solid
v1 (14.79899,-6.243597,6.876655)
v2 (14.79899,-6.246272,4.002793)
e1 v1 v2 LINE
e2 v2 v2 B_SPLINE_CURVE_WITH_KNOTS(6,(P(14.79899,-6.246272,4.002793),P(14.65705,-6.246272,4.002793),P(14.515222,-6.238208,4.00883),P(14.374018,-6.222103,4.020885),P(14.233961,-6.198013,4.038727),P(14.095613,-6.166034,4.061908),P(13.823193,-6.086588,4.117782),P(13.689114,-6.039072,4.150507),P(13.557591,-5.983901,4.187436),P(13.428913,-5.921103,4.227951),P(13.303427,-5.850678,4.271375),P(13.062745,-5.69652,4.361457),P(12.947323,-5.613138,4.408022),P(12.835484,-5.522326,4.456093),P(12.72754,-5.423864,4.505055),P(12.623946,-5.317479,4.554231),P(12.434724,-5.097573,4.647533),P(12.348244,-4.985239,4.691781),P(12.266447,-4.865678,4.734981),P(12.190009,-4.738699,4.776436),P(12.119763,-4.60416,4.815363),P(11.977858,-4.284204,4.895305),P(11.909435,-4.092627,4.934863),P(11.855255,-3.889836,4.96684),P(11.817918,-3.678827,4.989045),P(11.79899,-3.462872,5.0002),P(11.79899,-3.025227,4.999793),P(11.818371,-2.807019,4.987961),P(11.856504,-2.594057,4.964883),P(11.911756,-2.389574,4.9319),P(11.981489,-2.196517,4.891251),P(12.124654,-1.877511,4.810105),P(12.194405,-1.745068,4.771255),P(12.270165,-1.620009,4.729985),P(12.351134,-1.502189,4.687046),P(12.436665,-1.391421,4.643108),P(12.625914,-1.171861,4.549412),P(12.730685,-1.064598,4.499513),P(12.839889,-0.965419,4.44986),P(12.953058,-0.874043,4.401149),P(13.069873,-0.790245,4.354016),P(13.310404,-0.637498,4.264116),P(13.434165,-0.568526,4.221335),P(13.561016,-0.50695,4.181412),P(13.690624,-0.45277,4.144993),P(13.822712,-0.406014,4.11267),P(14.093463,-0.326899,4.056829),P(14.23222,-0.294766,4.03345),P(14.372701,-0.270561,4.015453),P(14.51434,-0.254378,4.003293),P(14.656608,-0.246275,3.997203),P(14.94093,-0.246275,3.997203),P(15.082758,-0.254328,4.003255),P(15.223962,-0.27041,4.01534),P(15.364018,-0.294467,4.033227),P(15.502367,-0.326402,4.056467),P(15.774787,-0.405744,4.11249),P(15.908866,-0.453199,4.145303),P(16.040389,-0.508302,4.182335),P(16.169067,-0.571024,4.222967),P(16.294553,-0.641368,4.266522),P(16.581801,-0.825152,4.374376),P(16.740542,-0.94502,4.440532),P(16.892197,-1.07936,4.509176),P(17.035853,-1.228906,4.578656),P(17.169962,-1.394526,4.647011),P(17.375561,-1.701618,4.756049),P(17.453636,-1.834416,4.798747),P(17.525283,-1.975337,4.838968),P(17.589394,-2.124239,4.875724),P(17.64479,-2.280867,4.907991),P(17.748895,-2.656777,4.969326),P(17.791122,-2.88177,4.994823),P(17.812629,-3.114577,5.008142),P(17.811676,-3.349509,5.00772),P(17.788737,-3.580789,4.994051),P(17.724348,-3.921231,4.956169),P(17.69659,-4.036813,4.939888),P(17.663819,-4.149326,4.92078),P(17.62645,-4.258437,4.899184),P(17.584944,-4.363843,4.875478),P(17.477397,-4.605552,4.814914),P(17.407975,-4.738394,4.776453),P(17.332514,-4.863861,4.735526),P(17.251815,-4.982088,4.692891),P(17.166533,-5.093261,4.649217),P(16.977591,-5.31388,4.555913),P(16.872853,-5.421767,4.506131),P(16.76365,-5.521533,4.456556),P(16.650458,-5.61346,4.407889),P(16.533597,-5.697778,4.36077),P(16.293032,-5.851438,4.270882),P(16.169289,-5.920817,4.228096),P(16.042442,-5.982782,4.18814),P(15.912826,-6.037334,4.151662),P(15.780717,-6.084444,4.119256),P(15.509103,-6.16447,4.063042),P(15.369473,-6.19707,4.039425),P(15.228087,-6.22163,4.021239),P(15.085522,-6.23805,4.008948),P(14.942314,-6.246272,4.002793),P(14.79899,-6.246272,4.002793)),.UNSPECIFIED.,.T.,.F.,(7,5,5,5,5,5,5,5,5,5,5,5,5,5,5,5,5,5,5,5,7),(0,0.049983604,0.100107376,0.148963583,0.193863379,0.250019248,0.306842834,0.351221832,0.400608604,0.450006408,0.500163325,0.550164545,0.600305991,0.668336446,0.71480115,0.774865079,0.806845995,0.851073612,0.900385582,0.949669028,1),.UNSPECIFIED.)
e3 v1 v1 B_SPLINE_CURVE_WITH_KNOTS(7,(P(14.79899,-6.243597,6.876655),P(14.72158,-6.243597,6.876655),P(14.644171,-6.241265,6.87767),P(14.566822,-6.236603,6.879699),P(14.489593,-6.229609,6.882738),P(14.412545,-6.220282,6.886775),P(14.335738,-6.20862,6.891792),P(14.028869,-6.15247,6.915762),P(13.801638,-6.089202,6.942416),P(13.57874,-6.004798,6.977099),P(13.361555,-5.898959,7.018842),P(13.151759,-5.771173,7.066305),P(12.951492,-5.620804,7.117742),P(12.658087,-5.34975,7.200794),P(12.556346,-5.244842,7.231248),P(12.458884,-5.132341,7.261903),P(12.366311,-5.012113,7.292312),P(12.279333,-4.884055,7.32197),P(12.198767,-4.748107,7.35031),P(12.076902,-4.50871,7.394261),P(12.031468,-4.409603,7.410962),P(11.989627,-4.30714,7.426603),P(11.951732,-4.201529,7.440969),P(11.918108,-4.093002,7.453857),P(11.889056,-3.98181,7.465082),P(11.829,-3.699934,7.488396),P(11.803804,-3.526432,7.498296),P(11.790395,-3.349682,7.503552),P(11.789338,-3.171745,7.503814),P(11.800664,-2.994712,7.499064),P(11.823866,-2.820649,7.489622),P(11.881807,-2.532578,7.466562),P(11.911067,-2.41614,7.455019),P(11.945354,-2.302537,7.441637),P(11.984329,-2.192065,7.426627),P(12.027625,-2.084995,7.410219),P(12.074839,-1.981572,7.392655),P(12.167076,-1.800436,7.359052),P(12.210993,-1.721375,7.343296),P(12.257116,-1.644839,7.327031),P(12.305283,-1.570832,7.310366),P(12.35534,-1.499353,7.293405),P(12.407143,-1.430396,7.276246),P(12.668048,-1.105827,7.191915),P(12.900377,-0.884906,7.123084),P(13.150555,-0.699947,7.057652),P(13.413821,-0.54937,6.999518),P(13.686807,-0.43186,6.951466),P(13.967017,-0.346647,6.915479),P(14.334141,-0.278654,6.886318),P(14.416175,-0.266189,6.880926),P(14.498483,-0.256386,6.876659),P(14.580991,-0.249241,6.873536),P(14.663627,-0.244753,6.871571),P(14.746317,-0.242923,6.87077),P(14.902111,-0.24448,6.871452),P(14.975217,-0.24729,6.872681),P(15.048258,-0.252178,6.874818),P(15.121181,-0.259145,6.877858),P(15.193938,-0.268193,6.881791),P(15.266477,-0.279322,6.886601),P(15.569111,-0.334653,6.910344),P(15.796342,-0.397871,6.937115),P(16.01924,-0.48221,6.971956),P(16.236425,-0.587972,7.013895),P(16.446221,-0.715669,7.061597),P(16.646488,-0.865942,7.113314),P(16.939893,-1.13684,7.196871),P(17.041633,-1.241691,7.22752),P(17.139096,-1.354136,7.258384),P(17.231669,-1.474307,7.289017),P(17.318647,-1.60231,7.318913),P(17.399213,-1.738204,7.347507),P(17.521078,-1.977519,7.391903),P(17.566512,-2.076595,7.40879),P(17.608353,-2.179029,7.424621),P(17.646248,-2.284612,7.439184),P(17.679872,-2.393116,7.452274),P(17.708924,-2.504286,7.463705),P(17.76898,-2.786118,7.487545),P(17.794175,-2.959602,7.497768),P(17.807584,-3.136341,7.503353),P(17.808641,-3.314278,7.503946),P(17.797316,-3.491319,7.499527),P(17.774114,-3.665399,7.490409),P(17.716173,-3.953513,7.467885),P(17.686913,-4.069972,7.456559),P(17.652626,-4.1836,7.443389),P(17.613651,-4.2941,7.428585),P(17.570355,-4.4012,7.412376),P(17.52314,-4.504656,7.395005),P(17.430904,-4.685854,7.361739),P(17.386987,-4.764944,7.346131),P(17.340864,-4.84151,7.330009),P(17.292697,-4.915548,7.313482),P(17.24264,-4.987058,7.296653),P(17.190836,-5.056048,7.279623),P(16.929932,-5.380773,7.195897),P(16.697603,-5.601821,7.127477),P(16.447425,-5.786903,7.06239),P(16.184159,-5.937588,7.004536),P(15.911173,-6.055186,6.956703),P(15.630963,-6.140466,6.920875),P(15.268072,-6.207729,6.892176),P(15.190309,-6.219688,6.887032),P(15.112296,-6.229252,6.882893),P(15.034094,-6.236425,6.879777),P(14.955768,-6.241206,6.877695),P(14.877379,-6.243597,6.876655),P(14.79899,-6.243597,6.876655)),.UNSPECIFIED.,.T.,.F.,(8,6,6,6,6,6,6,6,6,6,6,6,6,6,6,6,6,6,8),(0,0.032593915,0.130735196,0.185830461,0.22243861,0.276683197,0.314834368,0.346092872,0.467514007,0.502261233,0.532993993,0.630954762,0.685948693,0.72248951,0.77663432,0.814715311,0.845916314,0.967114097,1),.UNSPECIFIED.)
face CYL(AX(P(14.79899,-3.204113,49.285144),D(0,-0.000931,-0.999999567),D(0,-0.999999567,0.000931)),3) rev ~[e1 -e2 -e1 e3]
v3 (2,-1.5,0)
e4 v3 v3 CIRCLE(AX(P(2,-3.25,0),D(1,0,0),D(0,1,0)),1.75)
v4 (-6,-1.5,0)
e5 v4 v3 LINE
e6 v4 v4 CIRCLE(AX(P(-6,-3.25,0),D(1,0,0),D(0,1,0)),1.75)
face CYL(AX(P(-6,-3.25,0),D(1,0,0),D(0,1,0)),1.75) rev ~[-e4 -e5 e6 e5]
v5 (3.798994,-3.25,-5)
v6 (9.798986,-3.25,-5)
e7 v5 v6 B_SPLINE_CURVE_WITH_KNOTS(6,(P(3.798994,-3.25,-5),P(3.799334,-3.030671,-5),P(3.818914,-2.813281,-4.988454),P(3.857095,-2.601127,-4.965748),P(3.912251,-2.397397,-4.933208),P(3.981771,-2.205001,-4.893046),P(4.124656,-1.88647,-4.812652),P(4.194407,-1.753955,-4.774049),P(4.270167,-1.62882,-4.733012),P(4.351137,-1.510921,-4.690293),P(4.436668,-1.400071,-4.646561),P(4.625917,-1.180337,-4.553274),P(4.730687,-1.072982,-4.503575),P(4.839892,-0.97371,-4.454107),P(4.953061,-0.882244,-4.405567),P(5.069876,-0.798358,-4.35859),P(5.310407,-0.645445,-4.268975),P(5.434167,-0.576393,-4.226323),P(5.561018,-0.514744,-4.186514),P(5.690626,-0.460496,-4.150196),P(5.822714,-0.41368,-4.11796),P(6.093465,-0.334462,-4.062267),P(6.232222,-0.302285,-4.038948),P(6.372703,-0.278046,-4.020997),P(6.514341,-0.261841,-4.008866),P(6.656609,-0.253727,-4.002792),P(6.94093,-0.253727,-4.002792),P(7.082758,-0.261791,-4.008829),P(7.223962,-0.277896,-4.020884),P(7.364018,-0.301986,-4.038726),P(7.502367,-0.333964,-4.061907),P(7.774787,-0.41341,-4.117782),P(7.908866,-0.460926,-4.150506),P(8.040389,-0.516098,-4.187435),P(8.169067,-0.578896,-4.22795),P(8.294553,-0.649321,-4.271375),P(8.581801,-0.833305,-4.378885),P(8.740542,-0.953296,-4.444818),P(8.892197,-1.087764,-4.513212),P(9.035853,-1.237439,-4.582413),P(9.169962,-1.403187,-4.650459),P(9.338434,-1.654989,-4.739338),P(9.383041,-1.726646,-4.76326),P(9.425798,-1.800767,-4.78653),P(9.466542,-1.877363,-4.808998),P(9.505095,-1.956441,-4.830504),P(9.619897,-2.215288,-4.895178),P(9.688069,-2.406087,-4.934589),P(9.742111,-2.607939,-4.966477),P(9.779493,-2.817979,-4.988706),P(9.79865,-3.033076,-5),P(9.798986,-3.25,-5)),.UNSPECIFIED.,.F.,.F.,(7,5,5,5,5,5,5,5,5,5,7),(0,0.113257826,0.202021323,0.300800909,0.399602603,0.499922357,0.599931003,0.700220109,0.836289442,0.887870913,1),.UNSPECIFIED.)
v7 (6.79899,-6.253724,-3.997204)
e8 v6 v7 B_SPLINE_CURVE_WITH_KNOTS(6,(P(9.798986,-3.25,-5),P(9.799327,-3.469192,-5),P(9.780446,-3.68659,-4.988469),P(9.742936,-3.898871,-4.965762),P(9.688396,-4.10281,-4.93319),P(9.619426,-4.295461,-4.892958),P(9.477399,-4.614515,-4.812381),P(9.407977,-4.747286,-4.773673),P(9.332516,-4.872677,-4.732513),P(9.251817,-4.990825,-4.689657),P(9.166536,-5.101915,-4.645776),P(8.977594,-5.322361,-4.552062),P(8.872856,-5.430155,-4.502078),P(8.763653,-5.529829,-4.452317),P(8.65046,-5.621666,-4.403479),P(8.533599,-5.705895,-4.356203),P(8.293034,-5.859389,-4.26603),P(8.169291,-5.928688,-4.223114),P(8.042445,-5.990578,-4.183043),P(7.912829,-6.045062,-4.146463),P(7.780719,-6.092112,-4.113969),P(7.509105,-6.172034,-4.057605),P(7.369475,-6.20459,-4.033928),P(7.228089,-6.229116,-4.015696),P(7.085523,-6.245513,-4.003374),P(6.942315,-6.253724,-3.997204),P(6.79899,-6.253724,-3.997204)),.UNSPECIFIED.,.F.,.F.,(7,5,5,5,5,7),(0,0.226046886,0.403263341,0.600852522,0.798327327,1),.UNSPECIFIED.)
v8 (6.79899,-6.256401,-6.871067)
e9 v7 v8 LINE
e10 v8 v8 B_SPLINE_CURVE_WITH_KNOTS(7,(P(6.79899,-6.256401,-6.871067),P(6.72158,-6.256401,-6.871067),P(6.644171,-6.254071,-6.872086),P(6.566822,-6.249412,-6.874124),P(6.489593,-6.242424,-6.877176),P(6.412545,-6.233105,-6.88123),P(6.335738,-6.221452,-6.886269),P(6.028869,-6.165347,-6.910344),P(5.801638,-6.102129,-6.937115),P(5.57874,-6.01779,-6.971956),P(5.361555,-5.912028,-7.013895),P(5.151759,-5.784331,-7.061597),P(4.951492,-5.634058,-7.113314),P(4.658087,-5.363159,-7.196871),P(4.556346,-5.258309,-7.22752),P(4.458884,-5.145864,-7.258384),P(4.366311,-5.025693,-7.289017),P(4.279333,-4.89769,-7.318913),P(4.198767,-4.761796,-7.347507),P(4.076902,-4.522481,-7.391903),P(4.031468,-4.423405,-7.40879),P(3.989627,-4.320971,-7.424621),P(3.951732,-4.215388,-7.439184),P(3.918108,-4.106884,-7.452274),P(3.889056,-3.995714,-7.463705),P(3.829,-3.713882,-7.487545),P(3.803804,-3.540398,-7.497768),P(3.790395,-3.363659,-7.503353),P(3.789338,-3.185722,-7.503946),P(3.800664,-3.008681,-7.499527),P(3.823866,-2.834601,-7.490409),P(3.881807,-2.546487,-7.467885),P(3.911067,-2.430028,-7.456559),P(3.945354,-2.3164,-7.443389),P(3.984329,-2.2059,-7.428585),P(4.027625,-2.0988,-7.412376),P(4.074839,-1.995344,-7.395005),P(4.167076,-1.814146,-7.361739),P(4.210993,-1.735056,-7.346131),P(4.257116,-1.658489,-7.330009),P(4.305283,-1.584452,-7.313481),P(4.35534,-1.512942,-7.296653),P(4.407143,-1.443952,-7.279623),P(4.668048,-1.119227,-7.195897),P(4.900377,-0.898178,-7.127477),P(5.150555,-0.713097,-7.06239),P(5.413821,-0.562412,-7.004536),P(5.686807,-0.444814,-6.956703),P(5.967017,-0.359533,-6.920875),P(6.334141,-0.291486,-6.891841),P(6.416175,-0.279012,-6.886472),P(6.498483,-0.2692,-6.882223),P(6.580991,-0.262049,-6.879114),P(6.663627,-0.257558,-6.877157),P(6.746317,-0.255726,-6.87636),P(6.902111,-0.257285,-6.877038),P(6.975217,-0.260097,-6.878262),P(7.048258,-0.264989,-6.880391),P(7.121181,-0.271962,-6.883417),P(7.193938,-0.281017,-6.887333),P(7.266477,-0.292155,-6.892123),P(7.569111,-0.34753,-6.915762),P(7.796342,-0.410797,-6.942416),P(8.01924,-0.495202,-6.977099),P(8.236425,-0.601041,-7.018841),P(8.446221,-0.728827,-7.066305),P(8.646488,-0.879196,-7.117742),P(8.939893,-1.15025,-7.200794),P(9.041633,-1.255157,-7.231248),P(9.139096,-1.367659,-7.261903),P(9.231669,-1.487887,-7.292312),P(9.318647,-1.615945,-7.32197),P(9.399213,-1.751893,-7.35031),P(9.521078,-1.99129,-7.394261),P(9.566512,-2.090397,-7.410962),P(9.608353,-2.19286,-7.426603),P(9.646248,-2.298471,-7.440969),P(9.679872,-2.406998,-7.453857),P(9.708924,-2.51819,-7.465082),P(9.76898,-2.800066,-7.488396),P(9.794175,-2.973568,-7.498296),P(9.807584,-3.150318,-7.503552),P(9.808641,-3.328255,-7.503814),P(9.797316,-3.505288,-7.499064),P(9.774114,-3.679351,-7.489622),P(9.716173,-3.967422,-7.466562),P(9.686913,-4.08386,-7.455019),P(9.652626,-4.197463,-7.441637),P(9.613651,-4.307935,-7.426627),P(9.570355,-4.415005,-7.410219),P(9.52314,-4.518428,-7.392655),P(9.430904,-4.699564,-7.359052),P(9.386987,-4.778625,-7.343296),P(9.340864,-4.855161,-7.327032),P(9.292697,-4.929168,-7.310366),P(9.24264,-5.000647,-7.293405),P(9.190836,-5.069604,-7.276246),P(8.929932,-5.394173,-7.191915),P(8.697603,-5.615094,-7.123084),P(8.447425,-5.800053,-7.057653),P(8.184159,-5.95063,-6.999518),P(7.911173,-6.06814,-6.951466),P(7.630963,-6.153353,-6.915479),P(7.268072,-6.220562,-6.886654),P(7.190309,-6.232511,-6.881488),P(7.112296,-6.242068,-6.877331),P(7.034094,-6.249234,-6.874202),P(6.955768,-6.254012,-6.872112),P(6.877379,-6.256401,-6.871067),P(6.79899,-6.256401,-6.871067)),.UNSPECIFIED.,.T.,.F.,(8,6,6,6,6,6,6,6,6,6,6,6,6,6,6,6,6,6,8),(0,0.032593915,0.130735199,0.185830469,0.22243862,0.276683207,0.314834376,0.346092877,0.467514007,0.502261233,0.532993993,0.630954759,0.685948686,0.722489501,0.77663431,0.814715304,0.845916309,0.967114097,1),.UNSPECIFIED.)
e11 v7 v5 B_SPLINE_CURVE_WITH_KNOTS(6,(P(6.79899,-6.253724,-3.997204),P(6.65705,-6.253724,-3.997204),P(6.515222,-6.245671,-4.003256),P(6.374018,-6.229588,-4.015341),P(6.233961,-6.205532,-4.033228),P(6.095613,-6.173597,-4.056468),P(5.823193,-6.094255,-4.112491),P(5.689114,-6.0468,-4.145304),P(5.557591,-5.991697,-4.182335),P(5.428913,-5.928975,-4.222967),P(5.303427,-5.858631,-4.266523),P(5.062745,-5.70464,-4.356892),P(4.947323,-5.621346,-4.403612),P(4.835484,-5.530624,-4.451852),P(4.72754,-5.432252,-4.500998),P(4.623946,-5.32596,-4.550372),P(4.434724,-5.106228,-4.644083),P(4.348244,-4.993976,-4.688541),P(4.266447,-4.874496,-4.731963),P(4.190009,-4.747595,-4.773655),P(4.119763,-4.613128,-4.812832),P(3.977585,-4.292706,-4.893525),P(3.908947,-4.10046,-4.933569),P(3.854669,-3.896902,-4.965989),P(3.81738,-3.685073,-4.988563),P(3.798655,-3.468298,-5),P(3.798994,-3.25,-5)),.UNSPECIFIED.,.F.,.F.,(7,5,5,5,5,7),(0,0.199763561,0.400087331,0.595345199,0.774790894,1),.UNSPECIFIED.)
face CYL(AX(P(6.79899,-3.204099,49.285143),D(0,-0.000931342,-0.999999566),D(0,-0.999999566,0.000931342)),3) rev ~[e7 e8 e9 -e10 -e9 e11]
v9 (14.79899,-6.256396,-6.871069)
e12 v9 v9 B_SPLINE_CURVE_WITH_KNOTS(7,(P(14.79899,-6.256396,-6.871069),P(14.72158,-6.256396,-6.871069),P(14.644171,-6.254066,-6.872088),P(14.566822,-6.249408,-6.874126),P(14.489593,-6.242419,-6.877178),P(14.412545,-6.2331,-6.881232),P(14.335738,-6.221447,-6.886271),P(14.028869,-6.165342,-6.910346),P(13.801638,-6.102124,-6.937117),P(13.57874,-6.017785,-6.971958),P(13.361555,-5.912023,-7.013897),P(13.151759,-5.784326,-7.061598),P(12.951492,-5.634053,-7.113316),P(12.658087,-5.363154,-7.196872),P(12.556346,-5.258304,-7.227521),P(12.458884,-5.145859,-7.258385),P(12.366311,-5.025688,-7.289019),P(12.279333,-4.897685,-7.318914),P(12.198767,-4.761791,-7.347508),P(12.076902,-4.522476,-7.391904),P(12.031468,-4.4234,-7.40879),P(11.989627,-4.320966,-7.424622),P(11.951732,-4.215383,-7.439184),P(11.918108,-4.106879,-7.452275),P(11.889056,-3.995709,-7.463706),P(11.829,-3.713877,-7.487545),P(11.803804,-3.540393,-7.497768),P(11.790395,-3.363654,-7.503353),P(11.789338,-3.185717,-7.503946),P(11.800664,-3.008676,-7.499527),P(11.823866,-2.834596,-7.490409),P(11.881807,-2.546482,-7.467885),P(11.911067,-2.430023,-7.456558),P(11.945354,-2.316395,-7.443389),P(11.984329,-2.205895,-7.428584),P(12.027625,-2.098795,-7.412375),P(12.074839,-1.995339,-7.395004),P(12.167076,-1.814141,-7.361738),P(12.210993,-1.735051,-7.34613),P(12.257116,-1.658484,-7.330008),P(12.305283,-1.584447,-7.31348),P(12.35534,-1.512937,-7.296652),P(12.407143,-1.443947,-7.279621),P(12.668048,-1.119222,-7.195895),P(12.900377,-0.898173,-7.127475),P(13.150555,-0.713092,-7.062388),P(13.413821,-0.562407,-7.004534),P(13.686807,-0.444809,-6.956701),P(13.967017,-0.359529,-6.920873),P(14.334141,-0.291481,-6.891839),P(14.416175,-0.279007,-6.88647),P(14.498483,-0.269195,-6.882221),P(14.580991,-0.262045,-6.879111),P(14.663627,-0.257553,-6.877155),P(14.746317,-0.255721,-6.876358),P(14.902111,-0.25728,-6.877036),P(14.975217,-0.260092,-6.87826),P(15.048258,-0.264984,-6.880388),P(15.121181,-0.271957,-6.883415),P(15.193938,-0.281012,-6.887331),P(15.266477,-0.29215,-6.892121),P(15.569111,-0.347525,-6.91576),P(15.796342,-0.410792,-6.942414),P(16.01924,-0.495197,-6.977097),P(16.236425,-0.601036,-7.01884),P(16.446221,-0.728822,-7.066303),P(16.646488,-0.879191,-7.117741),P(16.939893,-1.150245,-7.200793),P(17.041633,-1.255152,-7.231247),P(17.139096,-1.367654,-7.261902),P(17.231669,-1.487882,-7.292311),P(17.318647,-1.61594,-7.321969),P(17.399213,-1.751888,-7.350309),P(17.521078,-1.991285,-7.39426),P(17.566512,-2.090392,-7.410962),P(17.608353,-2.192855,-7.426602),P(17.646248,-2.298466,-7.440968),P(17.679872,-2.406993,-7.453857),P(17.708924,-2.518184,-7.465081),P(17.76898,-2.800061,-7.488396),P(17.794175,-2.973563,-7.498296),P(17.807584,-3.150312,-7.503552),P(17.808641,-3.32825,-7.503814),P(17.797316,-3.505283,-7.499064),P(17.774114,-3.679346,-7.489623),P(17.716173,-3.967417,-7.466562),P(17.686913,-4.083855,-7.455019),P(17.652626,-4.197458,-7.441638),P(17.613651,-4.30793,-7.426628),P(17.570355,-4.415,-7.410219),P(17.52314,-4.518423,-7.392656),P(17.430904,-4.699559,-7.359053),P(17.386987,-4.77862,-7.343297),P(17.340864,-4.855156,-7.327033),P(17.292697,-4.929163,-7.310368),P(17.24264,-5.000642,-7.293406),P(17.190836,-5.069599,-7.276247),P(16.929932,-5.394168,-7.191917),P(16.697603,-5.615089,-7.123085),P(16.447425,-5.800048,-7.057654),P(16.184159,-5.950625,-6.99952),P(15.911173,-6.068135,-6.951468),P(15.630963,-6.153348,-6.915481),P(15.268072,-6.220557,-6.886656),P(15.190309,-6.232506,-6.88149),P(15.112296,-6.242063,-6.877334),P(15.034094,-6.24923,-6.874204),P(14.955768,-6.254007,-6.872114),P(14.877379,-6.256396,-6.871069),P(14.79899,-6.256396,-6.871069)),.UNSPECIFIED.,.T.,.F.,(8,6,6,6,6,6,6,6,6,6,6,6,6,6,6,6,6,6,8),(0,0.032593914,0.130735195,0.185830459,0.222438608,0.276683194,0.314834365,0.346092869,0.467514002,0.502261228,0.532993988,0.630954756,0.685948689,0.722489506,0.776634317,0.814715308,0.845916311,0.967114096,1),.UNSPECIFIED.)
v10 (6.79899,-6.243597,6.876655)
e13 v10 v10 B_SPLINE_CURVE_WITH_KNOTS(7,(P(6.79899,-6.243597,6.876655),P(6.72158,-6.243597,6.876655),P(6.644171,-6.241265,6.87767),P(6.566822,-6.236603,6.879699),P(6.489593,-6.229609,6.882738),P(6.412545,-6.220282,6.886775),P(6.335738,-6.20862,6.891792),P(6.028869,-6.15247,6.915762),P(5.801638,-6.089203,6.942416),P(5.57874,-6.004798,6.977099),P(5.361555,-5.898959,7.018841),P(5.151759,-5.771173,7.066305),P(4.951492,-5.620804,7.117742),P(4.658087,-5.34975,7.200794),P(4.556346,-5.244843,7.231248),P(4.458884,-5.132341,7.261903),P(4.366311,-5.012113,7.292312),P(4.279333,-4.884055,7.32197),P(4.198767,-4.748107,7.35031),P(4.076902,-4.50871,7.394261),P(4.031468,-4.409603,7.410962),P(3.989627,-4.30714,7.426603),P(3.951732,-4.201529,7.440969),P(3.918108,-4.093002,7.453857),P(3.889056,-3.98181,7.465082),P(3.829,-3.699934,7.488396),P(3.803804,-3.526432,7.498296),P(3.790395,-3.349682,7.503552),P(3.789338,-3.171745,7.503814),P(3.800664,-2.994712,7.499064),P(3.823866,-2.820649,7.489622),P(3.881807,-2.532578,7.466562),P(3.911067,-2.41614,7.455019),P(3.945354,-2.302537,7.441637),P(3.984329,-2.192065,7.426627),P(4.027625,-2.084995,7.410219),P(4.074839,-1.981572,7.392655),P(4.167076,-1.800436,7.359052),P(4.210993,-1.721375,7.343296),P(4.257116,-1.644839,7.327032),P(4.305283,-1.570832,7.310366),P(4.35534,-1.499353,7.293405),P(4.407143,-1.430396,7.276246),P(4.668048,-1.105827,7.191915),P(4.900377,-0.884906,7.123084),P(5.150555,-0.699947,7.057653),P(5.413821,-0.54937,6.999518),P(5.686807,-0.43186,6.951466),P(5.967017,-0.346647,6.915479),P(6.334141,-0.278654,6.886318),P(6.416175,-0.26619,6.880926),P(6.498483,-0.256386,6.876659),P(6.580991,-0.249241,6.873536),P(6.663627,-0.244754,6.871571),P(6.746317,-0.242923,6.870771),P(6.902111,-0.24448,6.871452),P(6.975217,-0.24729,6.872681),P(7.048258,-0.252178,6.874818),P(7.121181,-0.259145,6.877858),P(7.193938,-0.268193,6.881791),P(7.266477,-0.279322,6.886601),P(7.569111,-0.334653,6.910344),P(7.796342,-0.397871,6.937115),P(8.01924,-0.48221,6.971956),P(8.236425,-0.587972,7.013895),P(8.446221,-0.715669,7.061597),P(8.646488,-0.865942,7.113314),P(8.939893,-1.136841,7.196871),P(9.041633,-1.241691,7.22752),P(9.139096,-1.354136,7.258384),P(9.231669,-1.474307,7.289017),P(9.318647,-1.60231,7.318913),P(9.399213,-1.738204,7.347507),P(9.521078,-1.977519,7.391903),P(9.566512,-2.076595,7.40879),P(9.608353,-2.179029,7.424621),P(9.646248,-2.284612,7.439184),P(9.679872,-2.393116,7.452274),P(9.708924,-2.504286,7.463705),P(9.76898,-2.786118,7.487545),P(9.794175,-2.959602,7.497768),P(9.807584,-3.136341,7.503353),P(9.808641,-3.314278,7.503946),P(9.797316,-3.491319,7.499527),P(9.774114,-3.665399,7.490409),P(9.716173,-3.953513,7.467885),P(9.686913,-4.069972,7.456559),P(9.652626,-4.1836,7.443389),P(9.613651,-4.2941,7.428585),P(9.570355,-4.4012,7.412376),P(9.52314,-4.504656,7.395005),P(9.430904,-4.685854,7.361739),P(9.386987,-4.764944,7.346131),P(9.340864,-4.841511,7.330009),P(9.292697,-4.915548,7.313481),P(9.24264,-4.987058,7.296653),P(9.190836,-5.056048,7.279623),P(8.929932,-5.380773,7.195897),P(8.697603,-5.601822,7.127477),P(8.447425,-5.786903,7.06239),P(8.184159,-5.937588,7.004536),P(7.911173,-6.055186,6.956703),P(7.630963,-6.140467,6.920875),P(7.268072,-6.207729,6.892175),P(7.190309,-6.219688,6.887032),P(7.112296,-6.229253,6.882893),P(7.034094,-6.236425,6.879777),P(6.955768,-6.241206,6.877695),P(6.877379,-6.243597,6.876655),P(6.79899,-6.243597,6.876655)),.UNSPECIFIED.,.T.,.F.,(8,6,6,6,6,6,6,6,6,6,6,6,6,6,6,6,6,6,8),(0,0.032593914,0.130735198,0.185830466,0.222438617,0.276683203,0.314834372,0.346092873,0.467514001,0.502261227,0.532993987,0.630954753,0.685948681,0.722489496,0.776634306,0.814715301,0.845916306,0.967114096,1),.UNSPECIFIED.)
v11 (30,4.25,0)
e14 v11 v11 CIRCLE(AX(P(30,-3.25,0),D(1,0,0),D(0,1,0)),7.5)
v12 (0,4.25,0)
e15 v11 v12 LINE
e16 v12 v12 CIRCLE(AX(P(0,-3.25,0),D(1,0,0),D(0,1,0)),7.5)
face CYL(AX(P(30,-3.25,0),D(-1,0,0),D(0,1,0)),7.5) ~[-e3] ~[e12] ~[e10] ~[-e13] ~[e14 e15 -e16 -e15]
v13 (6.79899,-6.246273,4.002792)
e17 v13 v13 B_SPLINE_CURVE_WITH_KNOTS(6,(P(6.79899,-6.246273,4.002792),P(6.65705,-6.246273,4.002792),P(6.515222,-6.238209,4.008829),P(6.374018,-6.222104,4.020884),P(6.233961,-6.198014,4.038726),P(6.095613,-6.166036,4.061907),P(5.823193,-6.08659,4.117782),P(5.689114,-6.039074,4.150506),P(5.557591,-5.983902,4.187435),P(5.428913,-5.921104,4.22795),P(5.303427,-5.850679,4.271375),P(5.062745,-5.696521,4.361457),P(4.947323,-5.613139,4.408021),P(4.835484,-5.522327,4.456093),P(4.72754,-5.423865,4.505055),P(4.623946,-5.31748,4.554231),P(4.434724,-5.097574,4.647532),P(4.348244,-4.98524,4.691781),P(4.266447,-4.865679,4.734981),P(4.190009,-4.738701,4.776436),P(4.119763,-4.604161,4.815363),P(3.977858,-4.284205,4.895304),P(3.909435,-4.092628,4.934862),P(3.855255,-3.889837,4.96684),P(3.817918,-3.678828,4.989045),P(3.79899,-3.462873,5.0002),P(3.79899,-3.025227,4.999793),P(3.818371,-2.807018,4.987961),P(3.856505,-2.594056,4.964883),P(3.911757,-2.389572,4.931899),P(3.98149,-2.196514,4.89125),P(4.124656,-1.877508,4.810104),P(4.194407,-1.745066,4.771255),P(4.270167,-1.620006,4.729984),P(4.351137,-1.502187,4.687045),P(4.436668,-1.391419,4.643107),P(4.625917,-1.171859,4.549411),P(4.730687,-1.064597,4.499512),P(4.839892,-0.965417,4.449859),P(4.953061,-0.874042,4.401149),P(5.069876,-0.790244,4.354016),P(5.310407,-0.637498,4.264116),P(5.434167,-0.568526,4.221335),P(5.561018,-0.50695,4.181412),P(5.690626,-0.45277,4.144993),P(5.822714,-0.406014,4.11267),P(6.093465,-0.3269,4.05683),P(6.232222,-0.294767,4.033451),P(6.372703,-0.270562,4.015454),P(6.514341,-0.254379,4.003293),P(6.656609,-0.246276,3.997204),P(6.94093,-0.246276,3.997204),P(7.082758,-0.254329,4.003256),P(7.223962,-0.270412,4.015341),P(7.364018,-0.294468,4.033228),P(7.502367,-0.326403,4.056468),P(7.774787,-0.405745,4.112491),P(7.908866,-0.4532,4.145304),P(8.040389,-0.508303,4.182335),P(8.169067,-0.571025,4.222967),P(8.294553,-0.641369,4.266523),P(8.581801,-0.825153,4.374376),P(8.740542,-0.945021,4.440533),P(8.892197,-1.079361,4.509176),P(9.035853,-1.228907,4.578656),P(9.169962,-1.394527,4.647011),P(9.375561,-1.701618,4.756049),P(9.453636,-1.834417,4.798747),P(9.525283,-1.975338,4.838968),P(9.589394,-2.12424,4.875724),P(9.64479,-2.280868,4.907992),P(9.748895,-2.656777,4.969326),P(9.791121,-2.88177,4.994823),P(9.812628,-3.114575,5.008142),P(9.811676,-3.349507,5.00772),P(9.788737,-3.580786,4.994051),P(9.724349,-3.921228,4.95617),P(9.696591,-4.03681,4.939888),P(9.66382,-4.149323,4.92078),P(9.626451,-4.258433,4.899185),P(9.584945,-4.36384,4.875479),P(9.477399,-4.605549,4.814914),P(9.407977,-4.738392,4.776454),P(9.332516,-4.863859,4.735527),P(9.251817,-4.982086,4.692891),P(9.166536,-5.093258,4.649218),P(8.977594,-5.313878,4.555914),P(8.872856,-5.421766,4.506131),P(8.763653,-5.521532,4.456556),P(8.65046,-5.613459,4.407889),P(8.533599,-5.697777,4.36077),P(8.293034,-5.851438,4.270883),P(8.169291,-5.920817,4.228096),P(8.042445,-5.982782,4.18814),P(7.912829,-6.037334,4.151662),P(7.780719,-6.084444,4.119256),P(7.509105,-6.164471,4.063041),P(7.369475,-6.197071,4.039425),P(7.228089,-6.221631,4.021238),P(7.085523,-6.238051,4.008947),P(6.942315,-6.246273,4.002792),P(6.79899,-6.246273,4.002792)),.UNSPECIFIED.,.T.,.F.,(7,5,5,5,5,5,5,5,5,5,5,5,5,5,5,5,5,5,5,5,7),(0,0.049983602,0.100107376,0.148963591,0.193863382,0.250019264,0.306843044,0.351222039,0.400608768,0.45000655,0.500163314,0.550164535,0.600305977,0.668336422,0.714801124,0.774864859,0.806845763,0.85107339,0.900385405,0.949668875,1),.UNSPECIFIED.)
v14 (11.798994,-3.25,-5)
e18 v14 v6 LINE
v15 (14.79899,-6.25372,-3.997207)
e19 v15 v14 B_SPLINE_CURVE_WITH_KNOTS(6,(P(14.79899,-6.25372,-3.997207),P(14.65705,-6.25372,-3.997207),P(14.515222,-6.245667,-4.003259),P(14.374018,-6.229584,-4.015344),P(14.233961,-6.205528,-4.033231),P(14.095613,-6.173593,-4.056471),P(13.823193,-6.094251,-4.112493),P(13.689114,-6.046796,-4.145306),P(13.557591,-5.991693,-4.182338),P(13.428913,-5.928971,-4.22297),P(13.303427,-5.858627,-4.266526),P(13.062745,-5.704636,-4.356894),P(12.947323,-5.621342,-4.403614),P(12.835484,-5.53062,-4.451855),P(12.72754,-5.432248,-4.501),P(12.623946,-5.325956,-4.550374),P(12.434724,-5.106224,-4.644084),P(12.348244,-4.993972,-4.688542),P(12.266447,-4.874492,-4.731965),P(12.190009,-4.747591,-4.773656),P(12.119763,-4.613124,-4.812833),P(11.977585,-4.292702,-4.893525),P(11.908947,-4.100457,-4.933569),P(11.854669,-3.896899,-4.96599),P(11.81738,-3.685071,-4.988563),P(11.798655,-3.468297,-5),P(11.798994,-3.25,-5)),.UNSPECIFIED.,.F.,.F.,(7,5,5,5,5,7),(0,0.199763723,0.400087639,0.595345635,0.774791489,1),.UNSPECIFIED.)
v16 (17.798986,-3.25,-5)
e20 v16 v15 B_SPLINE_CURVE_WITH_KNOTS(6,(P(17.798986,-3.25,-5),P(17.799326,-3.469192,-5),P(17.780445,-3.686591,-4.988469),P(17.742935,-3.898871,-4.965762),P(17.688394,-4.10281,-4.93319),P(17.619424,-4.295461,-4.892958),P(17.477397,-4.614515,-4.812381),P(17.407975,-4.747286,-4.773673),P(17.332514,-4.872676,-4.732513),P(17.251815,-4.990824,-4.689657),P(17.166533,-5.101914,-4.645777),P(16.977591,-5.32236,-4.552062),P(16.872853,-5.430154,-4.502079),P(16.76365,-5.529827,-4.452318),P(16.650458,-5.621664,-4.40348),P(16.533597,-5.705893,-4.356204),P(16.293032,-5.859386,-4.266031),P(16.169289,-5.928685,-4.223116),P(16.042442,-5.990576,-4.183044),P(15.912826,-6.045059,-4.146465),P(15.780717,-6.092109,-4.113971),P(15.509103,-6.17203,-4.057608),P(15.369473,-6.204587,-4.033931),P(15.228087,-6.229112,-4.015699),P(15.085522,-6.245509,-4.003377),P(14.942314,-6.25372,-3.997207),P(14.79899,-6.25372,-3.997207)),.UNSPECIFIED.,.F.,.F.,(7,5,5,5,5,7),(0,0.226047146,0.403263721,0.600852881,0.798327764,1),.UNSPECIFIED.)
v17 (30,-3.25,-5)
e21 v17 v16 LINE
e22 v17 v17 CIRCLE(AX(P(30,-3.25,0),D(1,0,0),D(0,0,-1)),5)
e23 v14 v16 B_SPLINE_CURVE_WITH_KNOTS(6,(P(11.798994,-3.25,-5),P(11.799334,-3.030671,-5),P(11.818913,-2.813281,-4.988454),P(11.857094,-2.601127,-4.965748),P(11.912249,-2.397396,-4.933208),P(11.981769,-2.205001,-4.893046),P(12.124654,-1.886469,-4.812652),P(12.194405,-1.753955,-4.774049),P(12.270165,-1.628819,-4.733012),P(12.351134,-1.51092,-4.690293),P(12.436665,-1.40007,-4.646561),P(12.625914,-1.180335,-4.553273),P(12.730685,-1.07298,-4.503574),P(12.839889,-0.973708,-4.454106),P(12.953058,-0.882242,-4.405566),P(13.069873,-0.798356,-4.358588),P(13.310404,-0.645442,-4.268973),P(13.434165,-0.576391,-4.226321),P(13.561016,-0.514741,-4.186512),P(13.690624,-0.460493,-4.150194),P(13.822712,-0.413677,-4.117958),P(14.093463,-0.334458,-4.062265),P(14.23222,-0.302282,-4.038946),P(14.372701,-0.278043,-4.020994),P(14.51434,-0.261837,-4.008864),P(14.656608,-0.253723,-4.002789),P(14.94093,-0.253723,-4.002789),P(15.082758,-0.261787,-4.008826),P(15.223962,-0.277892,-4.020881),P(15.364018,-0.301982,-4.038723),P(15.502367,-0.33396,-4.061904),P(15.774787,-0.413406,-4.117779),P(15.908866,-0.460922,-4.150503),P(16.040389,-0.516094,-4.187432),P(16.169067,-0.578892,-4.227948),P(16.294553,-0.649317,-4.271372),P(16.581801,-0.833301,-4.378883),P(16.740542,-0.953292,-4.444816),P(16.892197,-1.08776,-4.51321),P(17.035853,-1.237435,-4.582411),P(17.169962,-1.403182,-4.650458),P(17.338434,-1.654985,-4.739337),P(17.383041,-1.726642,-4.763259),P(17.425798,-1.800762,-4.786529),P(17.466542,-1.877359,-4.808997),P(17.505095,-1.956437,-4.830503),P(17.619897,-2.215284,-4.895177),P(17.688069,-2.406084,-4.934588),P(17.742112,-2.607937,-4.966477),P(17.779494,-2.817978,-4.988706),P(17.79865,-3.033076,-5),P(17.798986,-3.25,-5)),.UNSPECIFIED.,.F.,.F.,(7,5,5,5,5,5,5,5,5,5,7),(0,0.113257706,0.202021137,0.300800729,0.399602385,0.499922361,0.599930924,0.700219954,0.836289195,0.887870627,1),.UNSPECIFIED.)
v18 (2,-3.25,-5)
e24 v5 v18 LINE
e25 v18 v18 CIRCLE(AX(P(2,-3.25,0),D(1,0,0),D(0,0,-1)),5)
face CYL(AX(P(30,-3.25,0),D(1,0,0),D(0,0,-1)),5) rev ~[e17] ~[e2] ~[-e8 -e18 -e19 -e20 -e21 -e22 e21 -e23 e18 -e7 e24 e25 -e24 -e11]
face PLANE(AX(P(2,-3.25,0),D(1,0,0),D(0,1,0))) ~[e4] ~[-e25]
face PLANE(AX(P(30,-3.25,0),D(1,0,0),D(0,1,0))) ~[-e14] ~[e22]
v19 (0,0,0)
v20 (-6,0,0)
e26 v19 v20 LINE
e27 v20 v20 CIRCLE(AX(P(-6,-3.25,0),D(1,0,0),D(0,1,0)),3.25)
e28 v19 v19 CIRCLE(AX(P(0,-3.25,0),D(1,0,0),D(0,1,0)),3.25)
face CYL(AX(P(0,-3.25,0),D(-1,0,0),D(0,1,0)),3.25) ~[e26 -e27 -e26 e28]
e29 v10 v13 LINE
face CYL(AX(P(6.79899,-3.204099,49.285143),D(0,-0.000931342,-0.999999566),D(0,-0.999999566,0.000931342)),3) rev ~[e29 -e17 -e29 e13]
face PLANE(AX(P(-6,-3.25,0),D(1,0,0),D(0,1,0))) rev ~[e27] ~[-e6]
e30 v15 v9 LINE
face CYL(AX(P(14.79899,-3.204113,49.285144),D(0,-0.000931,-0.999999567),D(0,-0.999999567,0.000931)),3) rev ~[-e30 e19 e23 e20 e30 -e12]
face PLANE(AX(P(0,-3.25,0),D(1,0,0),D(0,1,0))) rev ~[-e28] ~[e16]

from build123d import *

# Parameters (mm, degrees)
F_6_0_6_DIAMETER_HOLE3_D           = 6
F_6_0_6_DIAMETER_HOLE3_ON_FACE_2_D = 6
SKETCH7_R                          = 5
CUT_EXTRUDE1_DEPTH                 = 28


with BuildPart() as part:
    # Sketch1 → Revolve2 (revolve)
    with BuildSketch(Plane.XY):
        Polygon((0, 0), (-6, 0), (-6, -1.5), (2, -1.5), (2, 0.25), (28, 0.25), (28, -3.25), (30, -3.25), (30, 4.25), (0, 4.25), align=None)
    revolve(axis=Axis((-6, -3.25, 0), (1, 0, 0)))

    # Ø6.0 (6) Diameter Hole3 (through all)
    with Locations(Plane(origin=(6.798989942, -3.243014935, 7.499996747), x_dir=(0, 0.999999566, -0.000931342), z_dir=(0, 0.000931342, 0.999999566))):
        with Locations((0, 0)):
            Hole(F_6_0_6_DIAMETER_HOLE3_D / 2)

    # Ø6.0 (6) Diameter Hole3 on face 2 (through all)
    with Locations(Plane(origin=(14.798989942, -3.243014935, 7.499996747), x_dir=(0, 0.999999567, -0.000931), z_dir=(0, 0.000931, 0.999999567))):
        with Locations((0, 0)):
            Hole(F_6_0_6_DIAMETER_HOLE3_ON_FACE_2_D / 2)

    # Sketch7 → Cut-Extrude1 (cut)
    with BuildSketch(Plane(origin=(30, 0, 0), x_dir=(0, 0, -1), z_dir=(1, 0, 0))):
        with Locations((0, -3.25)):
            Circle(SKETCH7_R)
    extrude(amount=-CUT_EXTRUDE1_DEPTH, mode=Mode.SUBTRACT)


solid = part.part
